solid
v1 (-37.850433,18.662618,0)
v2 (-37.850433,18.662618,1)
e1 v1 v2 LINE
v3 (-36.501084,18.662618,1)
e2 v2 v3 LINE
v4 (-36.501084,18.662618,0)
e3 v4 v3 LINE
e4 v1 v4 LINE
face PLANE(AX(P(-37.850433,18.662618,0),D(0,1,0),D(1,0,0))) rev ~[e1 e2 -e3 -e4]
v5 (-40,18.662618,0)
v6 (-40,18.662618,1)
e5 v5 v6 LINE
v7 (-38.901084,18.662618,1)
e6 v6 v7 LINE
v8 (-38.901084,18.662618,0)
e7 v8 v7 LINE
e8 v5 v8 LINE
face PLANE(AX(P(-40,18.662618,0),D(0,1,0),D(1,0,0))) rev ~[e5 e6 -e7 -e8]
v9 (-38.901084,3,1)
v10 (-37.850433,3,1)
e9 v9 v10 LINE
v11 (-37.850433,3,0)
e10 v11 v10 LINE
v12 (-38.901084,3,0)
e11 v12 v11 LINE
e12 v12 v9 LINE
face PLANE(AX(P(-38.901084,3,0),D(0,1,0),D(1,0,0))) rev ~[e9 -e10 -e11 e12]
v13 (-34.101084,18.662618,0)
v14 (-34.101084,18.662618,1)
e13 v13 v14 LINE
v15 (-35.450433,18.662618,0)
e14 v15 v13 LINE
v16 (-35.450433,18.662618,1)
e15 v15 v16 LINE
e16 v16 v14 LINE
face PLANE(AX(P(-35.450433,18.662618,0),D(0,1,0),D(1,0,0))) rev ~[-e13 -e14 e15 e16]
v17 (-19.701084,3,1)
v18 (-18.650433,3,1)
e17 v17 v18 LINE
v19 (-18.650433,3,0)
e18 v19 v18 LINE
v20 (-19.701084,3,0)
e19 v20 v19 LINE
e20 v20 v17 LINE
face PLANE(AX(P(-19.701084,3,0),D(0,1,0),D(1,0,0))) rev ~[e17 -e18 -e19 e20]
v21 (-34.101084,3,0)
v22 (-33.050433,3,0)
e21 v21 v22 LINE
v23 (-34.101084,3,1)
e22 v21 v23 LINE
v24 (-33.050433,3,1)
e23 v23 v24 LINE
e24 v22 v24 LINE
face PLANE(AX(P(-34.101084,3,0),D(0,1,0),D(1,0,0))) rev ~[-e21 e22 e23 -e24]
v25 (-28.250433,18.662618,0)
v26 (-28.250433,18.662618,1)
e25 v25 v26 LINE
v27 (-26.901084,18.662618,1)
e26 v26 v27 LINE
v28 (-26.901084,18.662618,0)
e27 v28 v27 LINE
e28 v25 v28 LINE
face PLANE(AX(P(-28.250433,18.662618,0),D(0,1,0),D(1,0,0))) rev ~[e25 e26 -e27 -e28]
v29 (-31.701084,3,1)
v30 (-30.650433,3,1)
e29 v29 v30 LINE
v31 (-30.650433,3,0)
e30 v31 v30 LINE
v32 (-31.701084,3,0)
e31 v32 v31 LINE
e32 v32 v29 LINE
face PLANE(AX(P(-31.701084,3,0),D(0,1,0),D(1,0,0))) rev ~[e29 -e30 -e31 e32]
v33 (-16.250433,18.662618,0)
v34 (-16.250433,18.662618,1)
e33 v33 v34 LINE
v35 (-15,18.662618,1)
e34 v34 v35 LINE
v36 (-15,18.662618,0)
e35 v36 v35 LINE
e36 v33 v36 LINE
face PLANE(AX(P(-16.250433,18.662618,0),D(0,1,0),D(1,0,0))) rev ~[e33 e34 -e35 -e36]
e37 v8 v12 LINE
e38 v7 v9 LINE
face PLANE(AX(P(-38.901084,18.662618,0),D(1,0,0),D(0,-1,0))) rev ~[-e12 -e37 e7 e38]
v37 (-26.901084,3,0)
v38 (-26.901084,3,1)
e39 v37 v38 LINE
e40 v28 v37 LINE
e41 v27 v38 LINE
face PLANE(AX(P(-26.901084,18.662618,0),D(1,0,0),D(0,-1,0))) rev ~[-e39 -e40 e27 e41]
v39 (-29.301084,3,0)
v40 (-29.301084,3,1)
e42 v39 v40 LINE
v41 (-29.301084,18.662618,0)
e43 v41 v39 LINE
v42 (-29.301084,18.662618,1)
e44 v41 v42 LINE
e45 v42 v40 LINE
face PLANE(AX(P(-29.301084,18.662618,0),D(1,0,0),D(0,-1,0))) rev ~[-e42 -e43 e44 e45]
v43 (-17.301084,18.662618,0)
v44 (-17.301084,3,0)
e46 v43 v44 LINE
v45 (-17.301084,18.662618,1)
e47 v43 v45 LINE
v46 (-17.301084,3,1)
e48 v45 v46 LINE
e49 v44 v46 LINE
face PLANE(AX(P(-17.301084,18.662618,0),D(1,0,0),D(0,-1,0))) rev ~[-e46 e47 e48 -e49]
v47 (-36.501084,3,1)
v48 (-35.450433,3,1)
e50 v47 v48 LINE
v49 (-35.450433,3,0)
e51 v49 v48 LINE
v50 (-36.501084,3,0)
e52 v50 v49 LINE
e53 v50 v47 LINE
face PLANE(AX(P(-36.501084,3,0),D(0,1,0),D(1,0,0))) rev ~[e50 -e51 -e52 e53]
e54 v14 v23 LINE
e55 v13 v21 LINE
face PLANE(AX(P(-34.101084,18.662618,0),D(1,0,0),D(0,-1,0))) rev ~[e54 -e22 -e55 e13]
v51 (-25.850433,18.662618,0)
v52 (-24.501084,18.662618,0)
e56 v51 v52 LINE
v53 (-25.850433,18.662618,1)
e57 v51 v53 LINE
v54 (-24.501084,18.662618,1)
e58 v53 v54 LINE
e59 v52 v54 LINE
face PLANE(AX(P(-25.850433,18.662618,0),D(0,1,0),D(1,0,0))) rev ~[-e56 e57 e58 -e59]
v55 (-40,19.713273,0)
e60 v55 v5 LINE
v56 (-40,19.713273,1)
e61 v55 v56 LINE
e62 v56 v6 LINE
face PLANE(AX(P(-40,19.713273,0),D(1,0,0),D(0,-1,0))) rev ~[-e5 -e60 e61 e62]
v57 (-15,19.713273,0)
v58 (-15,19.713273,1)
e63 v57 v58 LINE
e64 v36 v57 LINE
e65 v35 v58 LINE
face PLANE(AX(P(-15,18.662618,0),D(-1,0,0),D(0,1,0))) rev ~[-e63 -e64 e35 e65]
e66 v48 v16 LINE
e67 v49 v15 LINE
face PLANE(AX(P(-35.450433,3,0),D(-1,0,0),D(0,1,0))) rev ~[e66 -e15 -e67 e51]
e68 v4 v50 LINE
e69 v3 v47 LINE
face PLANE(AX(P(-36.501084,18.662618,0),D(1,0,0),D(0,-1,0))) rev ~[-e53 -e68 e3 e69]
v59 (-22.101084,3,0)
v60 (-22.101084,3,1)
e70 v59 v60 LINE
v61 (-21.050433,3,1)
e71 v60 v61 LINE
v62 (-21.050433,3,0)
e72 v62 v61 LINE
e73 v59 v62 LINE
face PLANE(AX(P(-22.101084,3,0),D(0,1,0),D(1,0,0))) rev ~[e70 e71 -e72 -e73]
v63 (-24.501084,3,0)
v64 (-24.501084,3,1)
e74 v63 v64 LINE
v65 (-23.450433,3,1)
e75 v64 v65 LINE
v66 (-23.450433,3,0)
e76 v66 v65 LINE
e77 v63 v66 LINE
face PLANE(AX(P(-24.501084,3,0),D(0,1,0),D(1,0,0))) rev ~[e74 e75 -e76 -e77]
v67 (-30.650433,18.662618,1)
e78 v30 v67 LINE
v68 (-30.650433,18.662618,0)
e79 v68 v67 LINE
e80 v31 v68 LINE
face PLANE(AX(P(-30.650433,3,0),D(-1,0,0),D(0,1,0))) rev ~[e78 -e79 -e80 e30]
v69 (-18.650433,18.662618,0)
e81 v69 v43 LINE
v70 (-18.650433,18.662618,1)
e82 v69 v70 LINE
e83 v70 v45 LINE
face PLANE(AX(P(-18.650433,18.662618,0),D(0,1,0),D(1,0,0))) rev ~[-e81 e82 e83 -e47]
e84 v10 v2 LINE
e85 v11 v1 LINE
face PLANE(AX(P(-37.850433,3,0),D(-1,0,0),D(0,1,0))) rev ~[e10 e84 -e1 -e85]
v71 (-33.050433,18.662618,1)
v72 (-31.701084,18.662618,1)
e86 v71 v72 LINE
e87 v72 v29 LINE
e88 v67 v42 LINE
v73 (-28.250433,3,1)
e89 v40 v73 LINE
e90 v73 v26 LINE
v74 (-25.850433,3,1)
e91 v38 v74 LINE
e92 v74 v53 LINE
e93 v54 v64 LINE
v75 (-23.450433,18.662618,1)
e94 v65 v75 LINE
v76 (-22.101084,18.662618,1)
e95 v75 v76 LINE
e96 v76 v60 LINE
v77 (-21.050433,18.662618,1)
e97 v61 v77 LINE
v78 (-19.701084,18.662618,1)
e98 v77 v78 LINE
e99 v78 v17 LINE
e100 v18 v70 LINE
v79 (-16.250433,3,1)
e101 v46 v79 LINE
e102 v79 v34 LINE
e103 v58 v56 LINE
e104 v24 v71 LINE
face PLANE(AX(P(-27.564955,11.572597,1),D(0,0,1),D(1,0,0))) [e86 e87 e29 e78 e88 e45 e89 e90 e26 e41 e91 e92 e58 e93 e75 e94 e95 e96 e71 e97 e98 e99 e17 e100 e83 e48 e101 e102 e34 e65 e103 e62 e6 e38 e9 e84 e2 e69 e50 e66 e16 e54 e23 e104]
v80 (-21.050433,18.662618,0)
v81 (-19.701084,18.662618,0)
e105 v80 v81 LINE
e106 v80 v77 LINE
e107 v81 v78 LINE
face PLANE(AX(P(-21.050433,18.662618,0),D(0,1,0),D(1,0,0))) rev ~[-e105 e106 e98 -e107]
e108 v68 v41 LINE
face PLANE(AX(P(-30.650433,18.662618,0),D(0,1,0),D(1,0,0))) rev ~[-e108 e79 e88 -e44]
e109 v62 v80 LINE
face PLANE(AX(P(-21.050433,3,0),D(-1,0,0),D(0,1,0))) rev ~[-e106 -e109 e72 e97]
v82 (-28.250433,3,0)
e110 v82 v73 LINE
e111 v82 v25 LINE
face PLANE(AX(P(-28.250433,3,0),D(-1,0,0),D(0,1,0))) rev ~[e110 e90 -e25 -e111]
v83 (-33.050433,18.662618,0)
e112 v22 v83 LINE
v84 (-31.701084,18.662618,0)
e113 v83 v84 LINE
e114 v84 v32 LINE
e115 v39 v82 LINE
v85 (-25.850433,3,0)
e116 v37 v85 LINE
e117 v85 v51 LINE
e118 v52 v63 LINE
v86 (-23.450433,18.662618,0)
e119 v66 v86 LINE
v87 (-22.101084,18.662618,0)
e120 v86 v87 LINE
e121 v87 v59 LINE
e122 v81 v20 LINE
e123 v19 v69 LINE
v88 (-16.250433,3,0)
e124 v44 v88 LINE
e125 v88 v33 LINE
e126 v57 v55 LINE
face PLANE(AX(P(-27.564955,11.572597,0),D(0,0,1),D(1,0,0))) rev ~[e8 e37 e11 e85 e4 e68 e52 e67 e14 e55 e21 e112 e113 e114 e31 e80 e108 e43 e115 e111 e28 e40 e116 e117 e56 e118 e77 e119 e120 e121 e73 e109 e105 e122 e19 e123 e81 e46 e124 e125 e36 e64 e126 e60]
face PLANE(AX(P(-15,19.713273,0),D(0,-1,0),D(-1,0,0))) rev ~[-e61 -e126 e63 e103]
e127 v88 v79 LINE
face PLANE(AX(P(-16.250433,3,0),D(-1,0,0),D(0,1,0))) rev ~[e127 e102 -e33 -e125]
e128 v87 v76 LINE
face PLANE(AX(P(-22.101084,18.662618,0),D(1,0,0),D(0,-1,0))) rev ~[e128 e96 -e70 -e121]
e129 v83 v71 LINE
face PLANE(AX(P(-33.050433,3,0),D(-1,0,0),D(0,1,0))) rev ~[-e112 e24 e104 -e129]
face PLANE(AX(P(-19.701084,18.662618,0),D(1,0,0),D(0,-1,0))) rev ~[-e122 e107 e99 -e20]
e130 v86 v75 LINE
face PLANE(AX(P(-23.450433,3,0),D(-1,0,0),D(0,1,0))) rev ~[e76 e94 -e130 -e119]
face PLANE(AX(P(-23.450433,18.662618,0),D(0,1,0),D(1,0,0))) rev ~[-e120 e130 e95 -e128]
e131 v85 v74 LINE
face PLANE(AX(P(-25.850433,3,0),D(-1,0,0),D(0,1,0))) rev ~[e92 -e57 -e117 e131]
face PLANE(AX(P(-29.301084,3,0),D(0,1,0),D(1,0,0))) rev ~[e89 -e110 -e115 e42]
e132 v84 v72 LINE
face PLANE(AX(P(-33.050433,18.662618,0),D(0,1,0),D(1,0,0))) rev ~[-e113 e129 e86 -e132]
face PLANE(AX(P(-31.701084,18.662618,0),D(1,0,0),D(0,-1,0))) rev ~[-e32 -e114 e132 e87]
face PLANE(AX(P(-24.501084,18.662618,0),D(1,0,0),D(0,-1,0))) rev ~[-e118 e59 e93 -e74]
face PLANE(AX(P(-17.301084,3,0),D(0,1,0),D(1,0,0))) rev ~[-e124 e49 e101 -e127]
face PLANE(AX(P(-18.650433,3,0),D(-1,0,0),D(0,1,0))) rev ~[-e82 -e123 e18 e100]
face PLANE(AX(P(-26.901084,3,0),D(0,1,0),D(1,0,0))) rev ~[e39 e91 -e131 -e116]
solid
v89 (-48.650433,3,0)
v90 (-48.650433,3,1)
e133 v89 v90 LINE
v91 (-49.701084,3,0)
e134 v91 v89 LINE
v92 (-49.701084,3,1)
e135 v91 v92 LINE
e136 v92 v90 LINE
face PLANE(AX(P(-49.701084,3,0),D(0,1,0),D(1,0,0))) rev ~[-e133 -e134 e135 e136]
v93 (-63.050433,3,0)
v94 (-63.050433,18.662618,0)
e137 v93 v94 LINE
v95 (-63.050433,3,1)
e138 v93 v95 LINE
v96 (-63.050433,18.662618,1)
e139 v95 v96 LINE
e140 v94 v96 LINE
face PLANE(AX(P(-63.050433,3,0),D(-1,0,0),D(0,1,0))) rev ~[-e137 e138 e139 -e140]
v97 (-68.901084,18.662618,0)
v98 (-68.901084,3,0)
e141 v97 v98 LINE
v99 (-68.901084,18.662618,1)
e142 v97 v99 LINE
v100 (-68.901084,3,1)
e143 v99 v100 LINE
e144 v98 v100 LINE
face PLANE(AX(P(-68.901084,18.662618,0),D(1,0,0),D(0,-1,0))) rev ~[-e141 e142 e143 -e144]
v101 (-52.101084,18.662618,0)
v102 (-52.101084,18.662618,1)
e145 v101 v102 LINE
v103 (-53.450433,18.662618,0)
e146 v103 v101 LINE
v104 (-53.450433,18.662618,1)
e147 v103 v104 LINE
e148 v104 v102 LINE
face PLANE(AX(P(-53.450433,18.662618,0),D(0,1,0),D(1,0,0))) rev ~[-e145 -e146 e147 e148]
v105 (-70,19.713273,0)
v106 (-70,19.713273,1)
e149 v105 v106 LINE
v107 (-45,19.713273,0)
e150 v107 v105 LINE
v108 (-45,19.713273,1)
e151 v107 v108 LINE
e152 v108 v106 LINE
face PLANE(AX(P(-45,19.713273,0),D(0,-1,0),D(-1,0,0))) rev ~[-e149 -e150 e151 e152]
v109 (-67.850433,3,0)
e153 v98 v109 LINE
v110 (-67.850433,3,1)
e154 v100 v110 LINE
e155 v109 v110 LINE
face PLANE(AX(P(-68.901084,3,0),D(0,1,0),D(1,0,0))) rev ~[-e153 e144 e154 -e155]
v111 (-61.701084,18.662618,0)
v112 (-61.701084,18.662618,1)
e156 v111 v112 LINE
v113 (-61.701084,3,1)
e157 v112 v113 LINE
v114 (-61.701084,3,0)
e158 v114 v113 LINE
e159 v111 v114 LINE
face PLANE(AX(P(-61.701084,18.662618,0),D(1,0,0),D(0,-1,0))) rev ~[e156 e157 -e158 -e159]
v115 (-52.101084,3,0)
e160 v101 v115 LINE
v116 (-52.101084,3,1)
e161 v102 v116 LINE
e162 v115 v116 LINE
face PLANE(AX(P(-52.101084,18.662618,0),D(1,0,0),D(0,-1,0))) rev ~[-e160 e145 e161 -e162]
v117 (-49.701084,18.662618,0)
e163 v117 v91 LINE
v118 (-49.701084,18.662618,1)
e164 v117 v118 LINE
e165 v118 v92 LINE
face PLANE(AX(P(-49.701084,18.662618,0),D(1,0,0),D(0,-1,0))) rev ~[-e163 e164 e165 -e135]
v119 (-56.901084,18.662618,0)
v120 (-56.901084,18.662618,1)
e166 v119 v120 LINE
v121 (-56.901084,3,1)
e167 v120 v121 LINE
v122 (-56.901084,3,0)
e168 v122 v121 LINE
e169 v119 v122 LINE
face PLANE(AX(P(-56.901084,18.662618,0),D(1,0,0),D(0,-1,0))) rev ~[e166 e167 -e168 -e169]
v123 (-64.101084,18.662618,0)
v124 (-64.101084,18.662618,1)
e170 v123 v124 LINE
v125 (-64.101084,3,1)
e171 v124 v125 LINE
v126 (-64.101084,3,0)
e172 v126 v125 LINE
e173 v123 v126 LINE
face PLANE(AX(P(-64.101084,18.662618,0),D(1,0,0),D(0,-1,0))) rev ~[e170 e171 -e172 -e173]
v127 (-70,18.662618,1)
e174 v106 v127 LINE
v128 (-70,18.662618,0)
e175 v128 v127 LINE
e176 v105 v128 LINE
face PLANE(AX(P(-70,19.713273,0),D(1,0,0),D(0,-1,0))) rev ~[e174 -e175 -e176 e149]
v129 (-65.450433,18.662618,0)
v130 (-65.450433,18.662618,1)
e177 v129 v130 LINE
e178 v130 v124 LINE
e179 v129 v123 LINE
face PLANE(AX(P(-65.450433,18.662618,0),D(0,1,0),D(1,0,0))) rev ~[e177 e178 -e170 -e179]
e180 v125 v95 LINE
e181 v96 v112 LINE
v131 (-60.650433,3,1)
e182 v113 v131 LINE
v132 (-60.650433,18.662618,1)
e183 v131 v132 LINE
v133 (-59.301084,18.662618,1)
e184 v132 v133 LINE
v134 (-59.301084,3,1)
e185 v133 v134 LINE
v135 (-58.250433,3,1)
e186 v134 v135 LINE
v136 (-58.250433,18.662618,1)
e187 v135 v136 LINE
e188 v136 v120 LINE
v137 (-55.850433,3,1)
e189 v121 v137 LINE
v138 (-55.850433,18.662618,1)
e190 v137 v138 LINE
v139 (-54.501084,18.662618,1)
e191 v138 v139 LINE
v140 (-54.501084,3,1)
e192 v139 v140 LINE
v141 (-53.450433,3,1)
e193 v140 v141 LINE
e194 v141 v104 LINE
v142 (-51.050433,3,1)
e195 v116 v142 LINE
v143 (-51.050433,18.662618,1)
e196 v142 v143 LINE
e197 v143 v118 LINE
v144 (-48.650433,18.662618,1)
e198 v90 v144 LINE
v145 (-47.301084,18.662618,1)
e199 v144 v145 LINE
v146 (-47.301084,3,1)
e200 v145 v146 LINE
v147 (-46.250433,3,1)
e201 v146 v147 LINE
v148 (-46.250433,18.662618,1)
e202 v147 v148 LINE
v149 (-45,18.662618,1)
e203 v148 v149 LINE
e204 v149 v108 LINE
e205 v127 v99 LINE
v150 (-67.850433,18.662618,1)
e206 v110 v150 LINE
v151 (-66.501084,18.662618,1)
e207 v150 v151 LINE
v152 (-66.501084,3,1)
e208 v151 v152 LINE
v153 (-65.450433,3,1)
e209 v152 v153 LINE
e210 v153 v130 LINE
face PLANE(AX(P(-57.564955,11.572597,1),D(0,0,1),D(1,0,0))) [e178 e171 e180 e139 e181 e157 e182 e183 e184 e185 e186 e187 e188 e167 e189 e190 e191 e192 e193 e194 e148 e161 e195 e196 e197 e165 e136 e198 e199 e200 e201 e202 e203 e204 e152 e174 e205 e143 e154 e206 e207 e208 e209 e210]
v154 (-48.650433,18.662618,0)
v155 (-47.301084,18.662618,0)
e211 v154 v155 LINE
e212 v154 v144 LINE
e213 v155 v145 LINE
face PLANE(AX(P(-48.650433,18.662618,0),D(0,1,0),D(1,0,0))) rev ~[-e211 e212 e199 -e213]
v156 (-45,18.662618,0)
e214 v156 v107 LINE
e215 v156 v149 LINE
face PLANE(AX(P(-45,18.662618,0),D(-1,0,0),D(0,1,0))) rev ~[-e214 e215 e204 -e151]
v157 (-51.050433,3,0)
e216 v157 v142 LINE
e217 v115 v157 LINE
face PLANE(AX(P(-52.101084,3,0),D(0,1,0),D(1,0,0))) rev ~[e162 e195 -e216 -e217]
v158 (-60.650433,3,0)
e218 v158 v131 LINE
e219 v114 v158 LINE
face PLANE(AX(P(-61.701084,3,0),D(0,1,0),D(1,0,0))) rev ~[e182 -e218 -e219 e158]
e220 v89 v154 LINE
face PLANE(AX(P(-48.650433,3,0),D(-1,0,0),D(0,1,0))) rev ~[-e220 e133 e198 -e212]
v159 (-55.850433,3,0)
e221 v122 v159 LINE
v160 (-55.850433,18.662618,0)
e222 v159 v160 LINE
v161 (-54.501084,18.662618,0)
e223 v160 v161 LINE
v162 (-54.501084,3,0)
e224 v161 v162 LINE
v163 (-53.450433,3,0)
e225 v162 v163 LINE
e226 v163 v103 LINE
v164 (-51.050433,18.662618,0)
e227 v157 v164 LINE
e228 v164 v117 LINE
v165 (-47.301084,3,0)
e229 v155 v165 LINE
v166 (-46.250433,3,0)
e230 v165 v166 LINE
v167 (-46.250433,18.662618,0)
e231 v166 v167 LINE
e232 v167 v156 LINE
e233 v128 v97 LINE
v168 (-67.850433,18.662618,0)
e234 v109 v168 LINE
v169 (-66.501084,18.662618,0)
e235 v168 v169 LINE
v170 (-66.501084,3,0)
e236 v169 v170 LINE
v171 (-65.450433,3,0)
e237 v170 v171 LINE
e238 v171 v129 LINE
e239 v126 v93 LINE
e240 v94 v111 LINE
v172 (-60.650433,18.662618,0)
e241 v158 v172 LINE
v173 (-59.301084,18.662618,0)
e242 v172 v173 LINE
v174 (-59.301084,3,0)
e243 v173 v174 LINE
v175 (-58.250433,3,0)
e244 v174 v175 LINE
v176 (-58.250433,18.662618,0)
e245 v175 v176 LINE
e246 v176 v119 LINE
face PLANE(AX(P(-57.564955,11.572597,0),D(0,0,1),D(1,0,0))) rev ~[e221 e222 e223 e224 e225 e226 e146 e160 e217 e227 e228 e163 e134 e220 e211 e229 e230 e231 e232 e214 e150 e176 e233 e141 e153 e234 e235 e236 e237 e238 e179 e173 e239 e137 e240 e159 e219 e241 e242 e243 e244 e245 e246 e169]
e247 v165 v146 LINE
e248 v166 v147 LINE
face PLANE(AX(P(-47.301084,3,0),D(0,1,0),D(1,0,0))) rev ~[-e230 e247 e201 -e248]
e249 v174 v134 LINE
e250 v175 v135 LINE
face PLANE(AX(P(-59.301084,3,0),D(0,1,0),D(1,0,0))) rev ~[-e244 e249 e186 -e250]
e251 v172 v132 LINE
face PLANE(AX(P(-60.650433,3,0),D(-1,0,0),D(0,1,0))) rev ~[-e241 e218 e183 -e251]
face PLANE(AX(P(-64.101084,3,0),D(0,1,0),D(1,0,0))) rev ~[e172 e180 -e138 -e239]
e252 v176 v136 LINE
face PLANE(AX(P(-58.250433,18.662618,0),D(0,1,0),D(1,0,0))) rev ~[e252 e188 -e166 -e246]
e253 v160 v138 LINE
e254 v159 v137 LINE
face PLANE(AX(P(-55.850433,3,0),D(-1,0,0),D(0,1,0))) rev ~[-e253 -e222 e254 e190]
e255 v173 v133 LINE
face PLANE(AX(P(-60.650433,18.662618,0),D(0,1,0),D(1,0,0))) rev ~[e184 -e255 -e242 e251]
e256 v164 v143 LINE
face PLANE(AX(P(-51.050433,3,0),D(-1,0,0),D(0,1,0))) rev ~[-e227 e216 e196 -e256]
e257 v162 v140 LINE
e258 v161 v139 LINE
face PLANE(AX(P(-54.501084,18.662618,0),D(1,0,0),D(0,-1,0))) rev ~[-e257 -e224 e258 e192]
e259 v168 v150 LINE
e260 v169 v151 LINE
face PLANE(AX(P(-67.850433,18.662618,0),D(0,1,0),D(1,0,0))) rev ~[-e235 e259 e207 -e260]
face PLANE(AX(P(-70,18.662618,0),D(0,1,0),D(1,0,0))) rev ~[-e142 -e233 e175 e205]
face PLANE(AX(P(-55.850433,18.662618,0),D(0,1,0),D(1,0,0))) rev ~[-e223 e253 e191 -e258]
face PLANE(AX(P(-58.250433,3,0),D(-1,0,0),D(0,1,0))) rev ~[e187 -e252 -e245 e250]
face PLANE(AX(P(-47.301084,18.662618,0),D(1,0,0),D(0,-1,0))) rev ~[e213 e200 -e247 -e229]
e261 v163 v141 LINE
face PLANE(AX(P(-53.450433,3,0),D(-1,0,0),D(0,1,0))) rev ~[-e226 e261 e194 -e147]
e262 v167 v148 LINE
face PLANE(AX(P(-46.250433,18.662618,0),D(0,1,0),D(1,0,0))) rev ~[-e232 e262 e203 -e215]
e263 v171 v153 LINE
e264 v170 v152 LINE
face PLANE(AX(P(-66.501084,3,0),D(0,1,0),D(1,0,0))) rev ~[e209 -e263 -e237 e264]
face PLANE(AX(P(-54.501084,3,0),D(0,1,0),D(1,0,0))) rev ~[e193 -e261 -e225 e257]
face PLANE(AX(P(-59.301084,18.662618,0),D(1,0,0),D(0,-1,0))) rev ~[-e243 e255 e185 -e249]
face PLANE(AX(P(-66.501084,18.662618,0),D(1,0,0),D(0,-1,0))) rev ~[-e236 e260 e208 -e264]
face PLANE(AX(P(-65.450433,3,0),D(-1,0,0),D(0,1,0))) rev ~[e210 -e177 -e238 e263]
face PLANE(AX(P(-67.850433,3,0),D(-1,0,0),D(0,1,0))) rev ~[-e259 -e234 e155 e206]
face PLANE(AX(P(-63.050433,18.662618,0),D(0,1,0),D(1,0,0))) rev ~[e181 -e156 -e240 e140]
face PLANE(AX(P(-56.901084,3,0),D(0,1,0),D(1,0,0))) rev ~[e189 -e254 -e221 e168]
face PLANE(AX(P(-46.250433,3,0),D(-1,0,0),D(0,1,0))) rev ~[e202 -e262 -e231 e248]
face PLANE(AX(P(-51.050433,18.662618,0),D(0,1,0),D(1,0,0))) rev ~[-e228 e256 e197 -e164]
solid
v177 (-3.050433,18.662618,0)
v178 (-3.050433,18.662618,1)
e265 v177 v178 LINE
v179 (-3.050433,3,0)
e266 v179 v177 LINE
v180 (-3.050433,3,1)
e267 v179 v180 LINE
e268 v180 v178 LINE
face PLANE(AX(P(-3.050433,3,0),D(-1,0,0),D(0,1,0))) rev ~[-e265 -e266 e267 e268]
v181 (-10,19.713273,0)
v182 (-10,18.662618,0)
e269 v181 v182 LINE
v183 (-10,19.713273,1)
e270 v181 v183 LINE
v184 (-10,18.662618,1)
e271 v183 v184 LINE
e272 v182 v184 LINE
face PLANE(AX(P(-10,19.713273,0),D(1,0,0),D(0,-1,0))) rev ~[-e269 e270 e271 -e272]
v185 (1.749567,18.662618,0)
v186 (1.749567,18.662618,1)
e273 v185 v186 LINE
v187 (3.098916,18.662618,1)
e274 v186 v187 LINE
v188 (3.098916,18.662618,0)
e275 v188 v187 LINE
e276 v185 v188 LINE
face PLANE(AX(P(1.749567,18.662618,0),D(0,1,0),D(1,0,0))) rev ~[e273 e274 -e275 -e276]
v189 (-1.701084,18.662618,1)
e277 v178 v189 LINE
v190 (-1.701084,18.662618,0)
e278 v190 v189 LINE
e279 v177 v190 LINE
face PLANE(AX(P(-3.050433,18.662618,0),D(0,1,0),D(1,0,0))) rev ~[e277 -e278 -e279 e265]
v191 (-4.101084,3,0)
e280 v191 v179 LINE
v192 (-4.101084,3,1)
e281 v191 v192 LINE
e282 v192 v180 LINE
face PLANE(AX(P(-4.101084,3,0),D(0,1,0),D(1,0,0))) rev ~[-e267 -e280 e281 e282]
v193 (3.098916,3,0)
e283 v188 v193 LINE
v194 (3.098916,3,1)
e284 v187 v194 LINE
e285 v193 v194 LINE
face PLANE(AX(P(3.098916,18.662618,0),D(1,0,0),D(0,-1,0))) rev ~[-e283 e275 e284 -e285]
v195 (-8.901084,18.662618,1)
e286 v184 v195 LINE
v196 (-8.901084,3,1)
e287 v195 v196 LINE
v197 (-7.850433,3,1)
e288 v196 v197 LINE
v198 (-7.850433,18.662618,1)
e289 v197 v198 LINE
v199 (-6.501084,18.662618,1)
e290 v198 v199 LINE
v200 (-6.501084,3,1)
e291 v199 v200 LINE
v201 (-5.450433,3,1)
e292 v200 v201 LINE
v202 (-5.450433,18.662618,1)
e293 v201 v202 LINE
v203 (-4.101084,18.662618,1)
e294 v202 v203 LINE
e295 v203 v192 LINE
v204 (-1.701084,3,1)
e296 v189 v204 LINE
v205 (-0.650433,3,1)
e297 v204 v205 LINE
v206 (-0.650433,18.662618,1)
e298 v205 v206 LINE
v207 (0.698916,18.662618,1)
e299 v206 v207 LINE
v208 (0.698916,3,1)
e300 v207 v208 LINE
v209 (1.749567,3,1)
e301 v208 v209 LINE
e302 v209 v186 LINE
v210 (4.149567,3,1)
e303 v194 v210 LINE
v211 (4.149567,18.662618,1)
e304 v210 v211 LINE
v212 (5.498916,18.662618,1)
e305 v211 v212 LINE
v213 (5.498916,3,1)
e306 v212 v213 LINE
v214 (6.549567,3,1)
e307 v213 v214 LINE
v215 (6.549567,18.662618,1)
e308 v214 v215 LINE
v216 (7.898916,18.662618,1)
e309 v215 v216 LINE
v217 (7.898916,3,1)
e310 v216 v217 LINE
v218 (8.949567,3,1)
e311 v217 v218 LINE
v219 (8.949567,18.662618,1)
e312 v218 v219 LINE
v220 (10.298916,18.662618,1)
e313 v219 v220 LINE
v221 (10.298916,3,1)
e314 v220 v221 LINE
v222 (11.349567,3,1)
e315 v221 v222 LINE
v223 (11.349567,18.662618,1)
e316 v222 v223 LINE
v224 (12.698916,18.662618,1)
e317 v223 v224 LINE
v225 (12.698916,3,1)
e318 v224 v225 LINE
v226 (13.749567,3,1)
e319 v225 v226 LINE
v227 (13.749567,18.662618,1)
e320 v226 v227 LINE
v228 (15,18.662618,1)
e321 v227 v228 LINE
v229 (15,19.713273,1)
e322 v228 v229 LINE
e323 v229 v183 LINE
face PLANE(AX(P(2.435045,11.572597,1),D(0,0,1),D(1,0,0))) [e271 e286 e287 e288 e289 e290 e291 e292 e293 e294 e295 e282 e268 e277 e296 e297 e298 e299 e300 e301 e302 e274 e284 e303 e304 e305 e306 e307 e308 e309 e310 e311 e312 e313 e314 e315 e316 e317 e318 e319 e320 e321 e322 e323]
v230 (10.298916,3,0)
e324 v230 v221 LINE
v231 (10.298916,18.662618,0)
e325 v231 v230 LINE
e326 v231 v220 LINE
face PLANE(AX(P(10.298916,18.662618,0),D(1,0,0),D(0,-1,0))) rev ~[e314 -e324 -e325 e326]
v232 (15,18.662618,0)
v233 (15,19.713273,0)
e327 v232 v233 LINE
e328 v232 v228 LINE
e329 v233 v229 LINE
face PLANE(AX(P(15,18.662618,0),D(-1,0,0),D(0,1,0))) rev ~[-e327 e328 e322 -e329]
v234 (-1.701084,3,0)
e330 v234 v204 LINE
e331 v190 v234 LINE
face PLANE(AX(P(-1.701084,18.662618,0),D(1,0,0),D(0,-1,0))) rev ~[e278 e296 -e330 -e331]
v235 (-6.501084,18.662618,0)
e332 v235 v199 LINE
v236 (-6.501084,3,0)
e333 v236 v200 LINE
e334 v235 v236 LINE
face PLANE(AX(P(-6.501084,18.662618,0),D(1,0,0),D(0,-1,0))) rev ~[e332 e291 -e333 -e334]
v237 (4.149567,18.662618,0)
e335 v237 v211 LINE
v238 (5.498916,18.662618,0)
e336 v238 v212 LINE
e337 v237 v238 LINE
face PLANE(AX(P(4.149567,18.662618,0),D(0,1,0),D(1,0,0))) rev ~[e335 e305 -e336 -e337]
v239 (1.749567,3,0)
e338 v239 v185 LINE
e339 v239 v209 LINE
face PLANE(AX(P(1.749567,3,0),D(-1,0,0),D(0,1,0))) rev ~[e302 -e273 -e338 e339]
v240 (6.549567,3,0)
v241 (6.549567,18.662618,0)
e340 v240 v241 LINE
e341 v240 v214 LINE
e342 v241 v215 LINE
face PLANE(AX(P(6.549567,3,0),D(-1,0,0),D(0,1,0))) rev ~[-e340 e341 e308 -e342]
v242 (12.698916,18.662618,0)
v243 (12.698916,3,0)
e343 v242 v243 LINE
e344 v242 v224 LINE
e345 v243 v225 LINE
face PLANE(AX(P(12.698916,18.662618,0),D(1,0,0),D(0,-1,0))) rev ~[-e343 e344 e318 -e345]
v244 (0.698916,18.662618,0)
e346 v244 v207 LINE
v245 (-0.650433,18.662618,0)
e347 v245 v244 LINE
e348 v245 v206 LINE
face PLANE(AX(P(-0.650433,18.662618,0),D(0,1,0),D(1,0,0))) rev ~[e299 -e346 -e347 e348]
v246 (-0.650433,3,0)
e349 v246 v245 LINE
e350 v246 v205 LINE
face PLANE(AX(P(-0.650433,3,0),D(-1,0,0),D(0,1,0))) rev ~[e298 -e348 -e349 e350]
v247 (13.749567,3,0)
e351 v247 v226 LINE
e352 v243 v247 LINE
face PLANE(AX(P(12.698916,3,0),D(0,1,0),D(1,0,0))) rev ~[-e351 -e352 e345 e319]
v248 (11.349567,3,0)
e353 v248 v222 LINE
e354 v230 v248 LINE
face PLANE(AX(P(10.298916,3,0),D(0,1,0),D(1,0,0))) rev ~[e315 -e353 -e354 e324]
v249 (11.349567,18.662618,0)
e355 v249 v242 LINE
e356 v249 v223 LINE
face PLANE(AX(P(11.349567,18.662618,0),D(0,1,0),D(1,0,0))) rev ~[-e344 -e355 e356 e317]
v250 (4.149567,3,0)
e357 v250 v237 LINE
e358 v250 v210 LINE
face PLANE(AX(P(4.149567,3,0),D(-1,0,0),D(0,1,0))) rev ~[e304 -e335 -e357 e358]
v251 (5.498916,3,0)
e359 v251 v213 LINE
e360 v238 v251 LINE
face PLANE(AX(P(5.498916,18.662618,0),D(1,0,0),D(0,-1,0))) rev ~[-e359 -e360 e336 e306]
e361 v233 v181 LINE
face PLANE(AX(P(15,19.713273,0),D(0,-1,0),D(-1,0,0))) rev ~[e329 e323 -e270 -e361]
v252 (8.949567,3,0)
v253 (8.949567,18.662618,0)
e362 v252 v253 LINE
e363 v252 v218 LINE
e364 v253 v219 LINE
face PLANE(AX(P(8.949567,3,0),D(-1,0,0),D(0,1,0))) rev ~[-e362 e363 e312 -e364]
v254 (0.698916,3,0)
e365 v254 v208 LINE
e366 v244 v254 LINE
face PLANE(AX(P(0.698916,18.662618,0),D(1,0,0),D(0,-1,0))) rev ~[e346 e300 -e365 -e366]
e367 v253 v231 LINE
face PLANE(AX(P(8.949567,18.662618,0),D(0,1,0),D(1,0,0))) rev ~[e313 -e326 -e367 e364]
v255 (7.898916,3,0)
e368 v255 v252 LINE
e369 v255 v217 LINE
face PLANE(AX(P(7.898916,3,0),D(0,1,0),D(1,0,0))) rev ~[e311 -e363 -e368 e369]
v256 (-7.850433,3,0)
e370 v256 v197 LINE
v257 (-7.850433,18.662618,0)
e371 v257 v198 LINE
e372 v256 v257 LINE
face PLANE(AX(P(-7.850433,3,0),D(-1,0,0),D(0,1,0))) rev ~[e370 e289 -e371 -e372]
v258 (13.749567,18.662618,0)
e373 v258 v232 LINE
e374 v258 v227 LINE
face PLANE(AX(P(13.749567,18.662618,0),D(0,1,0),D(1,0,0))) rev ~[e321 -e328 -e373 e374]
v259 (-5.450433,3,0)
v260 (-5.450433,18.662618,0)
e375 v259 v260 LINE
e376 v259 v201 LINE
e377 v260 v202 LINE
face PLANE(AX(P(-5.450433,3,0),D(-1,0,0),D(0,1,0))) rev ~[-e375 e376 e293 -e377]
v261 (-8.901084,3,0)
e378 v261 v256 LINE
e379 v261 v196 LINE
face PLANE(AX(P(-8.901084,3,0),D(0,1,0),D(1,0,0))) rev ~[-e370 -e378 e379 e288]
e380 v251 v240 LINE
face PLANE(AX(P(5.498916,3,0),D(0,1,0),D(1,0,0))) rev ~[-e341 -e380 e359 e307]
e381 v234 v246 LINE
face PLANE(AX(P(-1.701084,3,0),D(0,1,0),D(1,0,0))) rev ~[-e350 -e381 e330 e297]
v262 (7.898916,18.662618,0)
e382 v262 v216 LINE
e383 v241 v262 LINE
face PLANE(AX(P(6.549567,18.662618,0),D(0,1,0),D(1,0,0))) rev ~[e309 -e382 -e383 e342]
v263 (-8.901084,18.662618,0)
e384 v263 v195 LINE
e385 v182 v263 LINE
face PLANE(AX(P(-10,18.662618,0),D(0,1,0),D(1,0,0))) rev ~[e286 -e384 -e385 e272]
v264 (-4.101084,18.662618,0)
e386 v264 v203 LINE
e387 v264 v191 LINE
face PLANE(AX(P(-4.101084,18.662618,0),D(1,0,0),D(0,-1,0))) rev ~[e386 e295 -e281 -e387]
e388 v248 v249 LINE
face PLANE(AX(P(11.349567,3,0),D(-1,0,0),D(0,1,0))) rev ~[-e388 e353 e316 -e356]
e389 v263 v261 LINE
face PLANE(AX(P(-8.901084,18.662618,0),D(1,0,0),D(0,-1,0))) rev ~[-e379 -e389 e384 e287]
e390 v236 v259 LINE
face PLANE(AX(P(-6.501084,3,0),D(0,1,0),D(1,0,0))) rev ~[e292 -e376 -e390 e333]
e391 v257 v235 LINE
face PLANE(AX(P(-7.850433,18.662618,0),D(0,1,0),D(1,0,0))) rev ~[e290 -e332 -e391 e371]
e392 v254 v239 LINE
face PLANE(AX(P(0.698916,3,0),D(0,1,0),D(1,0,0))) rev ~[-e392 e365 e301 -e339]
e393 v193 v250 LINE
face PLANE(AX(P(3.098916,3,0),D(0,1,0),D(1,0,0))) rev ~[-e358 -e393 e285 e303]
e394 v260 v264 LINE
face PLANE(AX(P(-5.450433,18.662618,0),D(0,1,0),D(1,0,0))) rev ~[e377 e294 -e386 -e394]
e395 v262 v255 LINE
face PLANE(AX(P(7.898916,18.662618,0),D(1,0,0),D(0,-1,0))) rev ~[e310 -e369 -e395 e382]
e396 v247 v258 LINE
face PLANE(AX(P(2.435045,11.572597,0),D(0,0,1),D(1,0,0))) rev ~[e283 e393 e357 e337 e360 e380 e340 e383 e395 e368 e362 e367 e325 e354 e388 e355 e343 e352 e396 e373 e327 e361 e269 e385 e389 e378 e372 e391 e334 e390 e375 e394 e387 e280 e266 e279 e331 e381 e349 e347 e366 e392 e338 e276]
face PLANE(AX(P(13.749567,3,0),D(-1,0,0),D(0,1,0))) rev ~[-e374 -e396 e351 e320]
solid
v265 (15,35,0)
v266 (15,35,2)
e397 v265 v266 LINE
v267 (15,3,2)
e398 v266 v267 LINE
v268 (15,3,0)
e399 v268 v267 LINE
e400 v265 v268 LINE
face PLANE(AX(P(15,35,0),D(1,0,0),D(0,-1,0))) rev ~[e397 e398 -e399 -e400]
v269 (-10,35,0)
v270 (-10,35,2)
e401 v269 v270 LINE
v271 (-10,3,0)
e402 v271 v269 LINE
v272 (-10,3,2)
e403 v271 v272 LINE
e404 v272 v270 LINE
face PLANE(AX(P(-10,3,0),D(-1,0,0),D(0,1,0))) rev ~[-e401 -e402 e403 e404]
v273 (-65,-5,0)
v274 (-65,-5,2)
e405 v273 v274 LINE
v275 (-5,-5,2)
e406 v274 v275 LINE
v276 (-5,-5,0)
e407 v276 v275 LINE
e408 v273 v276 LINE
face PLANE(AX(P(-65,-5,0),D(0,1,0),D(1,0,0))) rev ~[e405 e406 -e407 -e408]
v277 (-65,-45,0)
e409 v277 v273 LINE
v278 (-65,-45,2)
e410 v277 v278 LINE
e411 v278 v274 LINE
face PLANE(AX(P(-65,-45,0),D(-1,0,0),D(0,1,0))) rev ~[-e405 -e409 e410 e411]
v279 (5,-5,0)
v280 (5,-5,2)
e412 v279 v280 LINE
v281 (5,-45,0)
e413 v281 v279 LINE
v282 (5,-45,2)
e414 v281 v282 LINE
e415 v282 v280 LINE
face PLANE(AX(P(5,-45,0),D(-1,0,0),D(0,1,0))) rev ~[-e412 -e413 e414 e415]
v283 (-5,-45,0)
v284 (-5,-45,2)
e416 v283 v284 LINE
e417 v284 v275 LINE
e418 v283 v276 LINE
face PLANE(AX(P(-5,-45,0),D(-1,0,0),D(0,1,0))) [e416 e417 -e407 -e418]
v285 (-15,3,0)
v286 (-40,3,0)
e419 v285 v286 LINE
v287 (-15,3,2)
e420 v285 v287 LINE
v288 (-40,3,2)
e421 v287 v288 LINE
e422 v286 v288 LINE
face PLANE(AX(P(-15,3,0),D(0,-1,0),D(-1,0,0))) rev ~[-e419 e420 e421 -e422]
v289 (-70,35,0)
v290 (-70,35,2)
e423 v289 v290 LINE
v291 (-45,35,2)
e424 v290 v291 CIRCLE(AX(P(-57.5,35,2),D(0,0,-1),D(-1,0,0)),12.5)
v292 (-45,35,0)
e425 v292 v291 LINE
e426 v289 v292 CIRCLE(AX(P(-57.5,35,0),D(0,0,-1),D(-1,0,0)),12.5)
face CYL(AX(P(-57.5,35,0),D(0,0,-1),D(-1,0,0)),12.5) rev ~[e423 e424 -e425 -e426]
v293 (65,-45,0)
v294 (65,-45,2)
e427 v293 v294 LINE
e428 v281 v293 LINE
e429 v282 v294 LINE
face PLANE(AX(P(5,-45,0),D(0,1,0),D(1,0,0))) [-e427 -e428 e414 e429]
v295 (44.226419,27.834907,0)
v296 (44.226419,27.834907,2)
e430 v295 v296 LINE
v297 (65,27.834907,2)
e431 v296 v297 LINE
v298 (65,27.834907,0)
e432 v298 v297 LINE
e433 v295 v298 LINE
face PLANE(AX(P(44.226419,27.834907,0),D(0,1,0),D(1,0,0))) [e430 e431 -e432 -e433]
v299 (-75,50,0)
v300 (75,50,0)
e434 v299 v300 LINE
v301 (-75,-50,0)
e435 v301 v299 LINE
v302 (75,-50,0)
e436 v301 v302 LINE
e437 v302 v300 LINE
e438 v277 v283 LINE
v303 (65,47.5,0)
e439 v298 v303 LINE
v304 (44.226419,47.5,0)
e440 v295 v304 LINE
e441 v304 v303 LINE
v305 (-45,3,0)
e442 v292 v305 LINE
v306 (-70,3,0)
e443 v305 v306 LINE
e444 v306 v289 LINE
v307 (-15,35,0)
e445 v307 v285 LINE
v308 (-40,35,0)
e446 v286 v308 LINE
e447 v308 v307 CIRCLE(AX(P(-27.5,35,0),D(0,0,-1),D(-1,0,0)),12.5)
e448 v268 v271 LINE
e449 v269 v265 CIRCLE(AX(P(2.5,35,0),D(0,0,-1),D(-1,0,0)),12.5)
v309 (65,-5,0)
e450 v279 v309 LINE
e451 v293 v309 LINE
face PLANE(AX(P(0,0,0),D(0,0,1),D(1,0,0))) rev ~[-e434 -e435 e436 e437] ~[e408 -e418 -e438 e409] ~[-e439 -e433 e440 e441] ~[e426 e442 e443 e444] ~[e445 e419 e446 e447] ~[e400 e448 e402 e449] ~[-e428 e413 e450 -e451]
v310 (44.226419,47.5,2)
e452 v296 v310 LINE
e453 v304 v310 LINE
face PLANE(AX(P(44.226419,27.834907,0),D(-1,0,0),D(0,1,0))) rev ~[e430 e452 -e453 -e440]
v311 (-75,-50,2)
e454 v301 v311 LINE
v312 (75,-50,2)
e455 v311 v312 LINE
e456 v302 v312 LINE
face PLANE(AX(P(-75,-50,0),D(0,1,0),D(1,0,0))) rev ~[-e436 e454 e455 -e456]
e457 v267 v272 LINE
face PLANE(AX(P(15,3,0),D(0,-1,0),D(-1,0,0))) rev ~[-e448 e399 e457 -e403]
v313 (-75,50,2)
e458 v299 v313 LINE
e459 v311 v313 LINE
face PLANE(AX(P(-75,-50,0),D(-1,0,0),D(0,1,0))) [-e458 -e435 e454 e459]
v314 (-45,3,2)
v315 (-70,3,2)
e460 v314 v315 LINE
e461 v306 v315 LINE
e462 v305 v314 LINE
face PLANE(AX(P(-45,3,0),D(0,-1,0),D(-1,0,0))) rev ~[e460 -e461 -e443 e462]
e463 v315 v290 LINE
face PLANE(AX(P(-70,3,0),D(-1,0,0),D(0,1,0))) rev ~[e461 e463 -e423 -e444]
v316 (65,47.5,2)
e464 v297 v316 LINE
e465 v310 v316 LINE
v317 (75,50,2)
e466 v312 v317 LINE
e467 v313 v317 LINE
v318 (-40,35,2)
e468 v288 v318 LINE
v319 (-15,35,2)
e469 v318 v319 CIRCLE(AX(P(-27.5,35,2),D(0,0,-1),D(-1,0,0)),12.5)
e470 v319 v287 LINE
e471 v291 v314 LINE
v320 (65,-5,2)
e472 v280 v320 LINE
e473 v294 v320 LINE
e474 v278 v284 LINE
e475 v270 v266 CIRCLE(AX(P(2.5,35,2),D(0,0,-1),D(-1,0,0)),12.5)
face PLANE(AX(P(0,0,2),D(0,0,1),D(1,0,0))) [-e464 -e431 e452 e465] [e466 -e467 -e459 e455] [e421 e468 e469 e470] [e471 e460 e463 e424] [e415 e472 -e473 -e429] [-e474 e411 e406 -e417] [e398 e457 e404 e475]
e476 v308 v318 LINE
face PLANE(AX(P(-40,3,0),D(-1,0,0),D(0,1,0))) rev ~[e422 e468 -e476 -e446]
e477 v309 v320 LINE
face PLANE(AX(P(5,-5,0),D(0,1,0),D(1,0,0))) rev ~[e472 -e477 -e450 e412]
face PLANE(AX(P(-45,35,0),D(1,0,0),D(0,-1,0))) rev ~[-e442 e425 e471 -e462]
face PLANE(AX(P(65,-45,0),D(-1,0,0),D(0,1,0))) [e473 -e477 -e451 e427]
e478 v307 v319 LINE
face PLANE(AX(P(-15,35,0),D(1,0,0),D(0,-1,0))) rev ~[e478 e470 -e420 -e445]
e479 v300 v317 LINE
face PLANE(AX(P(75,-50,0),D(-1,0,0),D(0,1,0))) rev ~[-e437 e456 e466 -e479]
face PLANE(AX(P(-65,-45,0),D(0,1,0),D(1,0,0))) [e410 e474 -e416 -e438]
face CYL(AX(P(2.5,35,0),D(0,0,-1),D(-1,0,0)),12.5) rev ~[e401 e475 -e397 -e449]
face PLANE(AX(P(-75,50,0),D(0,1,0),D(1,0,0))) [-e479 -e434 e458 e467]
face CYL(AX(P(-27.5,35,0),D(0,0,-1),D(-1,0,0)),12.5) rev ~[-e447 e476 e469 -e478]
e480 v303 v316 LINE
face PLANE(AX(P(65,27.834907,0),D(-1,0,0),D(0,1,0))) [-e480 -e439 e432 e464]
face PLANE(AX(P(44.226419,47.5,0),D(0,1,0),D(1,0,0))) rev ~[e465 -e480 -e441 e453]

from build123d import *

# Parameters (mm, degrees)
F1_DEPTH = 1
F0_W     = 150
F0_H     = 100
F0_W_2   = 60
F0_H_2   = 40
F0_W_3   = 20.773581
F0_H_3   = 19.665093
F2_DEPTH = 2


with BuildPart() as f1:
    # F0 (on Top) → F1 (new body)
    with BuildSketch(Plane.XY):
        Polygon((-30.650433, 3), (-30.650433, 18.662618), (-29.301084, 18.662618), (-29.301084, 3), (-28.250433, 3), (-28.250433, 18.662618), (-26.901084, 18.662618), (-26.901084, 3), (-25.850433, 3), (-25.850433, 18.662618), (-24.501084, 18.662618), (-24.501084, 3), (-23.450433, 3), (-23.450433, 18.662618), (-22.101084, 18.662618), (-22.101084, 3), (-21.050433, 3), (-21.050433, 18.662618), (-19.701084, 18.662618), (-19.701084, 3), (-18.650433, 3), (-18.650433, 18.662618), (-17.301084, 18.662618), (-17.301084, 3), (-16.250433, 3), (-16.250433, 18.662618), (-15, 18.662618), (-15, 19.713273), (-40, 19.713273), (-40, 18.662618), (-38.901084, 18.662618), (-38.901084, 3), (-37.850433, 3), (-37.850433, 18.662618), (-36.501084, 18.662618), (-36.501084, 3), (-35.450433, 3), (-35.450433, 18.662618), (-34.101084, 18.662618), (-34.101084, 3), (-33.050433, 3), (-33.050433, 18.662618), (-31.701084, 18.662618), (-31.701084, 3), align=None)
        Polygon((-0.650433, 3), (-0.650433, 18.662618), (0.698916, 18.662618), (0.698916, 3), (1.749567, 3), (1.749567, 18.662618), (3.098916, 18.662618), (3.098916, 3), (4.149567, 3), (4.149567, 18.662618), (5.498916, 18.662618), (5.498916, 3), (6.549567, 3), (6.549567, 18.662618), (7.898916, 18.662618), (7.898916, 3), (8.949567, 3), (8.949567, 18.662618), (10.298916, 18.662618), (10.298916, 3), (11.349567, 3), (11.349567, 18.662618), (12.698916, 18.662618), (12.698916, 3), (13.749567, 3), (13.749567, 18.662618), (15, 18.662618), (15, 19.713273), (-10, 19.713273), (-10, 18.662618), (-8.901084, 18.662618), (-8.901084, 3), (-7.850433, 3), (-7.850433, 18.662618), (-6.501084, 18.662618), (-6.501084, 3), (-5.450433, 3), (-5.450433, 18.662618), (-4.101084, 18.662618), (-4.101084, 3), (-3.050433, 3), (-3.050433, 18.662618), (-1.701084, 18.662618), (-1.701084, 3), align=None)
        Polygon((-45, 18.662618), (-45, 19.713273), (-70, 19.713273), (-70, 18.662618), (-68.901084, 18.662618), (-68.901084, 3), (-67.850433, 3), (-67.850433, 18.662618), (-66.501084, 18.662618), (-66.501084, 3), (-65.450433, 3), (-65.450433, 18.662618), (-64.101084, 18.662618), (-64.101084, 3), (-63.050433, 3), (-63.050433, 18.662618), (-61.701084, 18.662618), (-61.701084, 3), (-60.650433, 3), (-60.650433, 18.662618), (-59.301084, 18.662618), (-59.301084, 3), (-58.250433, 3), (-58.250433, 18.662618), (-56.901084, 18.662618), (-56.901084, 3), (-55.850433, 3), (-55.850433, 18.662618), (-54.501084, 18.662618), (-54.501084, 3), (-53.450433, 3), (-53.450433, 18.662618), (-52.101084, 18.662618), (-52.101084, 3), (-51.050433, 3), (-51.050433, 18.662618), (-49.701084, 18.662618), (-49.701084, 3), (-48.650433, 3), (-48.650433, 18.662618), (-47.301084, 18.662618), (-47.301084, 3), (-46.250433, 3), (-46.250433, 18.662618), align=None)
    extrude(amount=F1_DEPTH)


with BuildPart() as f2:
    # F0 (on Top) → F2 (new body)
    with BuildSketch(Plane.XY):
        Rectangle(F0_W, F0_H)
        with Locations((-35, -25)):
            Rectangle(F0_W_2, F0_H_2, mode=Mode.SUBTRACT)
        with Locations((35, -25)):
            Rectangle(F0_W_2, F0_H_2, mode=Mode.SUBTRACT)
        with BuildLine():
            ThreePointArc((-70, 35), (-57.5, 47.5), (-45, 35))
            Line((-45, 35), (-45, 19.713273))
            Line((-45, 19.713273), (-45, 18.662618))
            Line((-45, 18.662618), (-45, 3))
            Line((-45, 3), (-46.250433, 3))
            Line((-46.250433, 3), (-47.301084, 3))
            Line((-47.301084, 3), (-48.650433, 3))
            Line((-48.650433, 3), (-49.701084, 3))
            Line((-49.701084, 3), (-51.050433, 3))
            Line((-51.050433, 3), (-52.101084, 3))
            Line((-52.101084, 3), (-53.450433, 3))
            Line((-53.450433, 3), (-54.501084, 3))
            Line((-54.501084, 3), (-55.850433, 3))
            Line((-55.850433, 3), (-56.901084, 3))
            Line((-56.901084, 3), (-58.250433, 3))
            Line((-58.250433, 3), (-59.301084, 3))
            Line((-59.301084, 3), (-60.650433, 3))
            Line((-60.650433, 3), (-61.701084, 3))
            Line((-61.701084, 3), (-63.050433, 3))
            Line((-63.050433, 3), (-64.101084, 3))
            Line((-64.101084, 3), (-65.450433, 3))
            Line((-65.450433, 3), (-66.501084, 3))
            Line((-66.501084, 3), (-67.850433, 3))
            Line((-67.850433, 3), (-68.901084, 3))
            Line((-68.901084, 3), (-70, 3))
            Line((-70, 3), (-70, 18.662618))
            Line((-70, 18.662618), (-70, 19.713273))
            Line((-70, 19.713273), (-70, 35))
        make_face(mode=Mode.SUBTRACT)
        with BuildLine():
            Line((-29.301084, 3), (-30.650433, 3))
            Line((-30.650433, 3), (-31.701084, 3))
            Line((-31.701084, 3), (-33.050433, 3))
            Line((-33.050433, 3), (-34.101084, 3))
            Line((-34.101084, 3), (-35.450433, 3))
            Line((-35.450433, 3), (-36.501084, 3))
            Line((-36.501084, 3), (-37.850433, 3))
            Line((-37.850433, 3), (-38.901084, 3))
            Line((-38.901084, 3), (-40, 3))
            Line((-40, 3), (-40, 18.662618))
            Line((-40, 18.662618), (-40, 19.713273))
            Line((-40, 19.713273), (-40, 35))
            ThreePointArc((-40, 35), (-27.5, 47.5), (-15, 35))
            Line((-15, 35), (-15, 19.713273))
            Line((-15, 19.713273), (-15, 18.662618))
            Line((-15, 18.662618), (-15, 3))
            Line((-15, 3), (-16.250433, 3))
            Line((-16.250433, 3), (-17.301084, 3))
            Line((-17.301084, 3), (-18.650433, 3))
            Line((-18.650433, 3), (-19.701084, 3))
            Line((-19.701084, 3), (-21.050433, 3))
            Line((-21.050433, 3), (-22.101084, 3))
            Line((-22.101084, 3), (-23.450433, 3))
            Line((-23.450433, 3), (-24.501084, 3))
            Line((-24.501084, 3), (-25.850433, 3))
            Line((-25.850433, 3), (-26.901084, 3))
            Line((-26.901084, 3), (-28.250433, 3))
            Line((-28.250433, 3), (-29.301084, 3))
        make_face(mode=Mode.SUBTRACT)
        with BuildLine():
            Line((0.698916, 3), (-0.650433, 3))
            Line((-0.650433, 3), (-1.701084, 3))
            Line((-1.701084, 3), (-3.050433, 3))
            Line((-3.050433, 3), (-4.101084, 3))
            Line((-4.101084, 3), (-5.450433, 3))
            Line((-5.450433, 3), (-6.501084, 3))
            Line((-6.501084, 3), (-7.850433, 3))
            Line((-7.850433, 3), (-8.901084, 3))
            Line((-8.901084, 3), (-10, 3))
            Line((-10, 3), (-10, 18.662618))
            Line((-10, 18.662618), (-10, 19.713273))
            Line((-10, 19.713273), (-10, 35))
            ThreePointArc((-10, 35), (2.5, 47.5), (15, 35))
            Line((15, 35), (15, 19.713273))
            Line((15, 19.713273), (15, 18.662618))
            Line((15, 18.662618), (15, 3))
            Line((15, 3), (13.749567, 3))
            Line((13.749567, 3), (12.698916, 3))
            Line((12.698916, 3), (11.349567, 3))
            Line((11.349567, 3), (10.298916, 3))
            Line((10.298916, 3), (8.949567, 3))
            Line((8.949567, 3), (7.898916, 3))
            Line((7.898916, 3), (6.549567, 3))
            Line((6.549567, 3), (5.498916, 3))
            Line((5.498916, 3), (4.149567, 3))
            Line((4.149567, 3), (3.098916, 3))
            Line((3.098916, 3), (1.749567, 3))
            Line((1.749567, 3), (0.698916, 3))
        make_face(mode=Mode.SUBTRACT)
        with Locations((54.613209, 37.667454)):
            Rectangle(F0_W_3, F0_H_3, mode=Mode.SUBTRACT)
    extrude(amount=F2_DEPTH)


solid = Compound([f1.part, f2.part])
